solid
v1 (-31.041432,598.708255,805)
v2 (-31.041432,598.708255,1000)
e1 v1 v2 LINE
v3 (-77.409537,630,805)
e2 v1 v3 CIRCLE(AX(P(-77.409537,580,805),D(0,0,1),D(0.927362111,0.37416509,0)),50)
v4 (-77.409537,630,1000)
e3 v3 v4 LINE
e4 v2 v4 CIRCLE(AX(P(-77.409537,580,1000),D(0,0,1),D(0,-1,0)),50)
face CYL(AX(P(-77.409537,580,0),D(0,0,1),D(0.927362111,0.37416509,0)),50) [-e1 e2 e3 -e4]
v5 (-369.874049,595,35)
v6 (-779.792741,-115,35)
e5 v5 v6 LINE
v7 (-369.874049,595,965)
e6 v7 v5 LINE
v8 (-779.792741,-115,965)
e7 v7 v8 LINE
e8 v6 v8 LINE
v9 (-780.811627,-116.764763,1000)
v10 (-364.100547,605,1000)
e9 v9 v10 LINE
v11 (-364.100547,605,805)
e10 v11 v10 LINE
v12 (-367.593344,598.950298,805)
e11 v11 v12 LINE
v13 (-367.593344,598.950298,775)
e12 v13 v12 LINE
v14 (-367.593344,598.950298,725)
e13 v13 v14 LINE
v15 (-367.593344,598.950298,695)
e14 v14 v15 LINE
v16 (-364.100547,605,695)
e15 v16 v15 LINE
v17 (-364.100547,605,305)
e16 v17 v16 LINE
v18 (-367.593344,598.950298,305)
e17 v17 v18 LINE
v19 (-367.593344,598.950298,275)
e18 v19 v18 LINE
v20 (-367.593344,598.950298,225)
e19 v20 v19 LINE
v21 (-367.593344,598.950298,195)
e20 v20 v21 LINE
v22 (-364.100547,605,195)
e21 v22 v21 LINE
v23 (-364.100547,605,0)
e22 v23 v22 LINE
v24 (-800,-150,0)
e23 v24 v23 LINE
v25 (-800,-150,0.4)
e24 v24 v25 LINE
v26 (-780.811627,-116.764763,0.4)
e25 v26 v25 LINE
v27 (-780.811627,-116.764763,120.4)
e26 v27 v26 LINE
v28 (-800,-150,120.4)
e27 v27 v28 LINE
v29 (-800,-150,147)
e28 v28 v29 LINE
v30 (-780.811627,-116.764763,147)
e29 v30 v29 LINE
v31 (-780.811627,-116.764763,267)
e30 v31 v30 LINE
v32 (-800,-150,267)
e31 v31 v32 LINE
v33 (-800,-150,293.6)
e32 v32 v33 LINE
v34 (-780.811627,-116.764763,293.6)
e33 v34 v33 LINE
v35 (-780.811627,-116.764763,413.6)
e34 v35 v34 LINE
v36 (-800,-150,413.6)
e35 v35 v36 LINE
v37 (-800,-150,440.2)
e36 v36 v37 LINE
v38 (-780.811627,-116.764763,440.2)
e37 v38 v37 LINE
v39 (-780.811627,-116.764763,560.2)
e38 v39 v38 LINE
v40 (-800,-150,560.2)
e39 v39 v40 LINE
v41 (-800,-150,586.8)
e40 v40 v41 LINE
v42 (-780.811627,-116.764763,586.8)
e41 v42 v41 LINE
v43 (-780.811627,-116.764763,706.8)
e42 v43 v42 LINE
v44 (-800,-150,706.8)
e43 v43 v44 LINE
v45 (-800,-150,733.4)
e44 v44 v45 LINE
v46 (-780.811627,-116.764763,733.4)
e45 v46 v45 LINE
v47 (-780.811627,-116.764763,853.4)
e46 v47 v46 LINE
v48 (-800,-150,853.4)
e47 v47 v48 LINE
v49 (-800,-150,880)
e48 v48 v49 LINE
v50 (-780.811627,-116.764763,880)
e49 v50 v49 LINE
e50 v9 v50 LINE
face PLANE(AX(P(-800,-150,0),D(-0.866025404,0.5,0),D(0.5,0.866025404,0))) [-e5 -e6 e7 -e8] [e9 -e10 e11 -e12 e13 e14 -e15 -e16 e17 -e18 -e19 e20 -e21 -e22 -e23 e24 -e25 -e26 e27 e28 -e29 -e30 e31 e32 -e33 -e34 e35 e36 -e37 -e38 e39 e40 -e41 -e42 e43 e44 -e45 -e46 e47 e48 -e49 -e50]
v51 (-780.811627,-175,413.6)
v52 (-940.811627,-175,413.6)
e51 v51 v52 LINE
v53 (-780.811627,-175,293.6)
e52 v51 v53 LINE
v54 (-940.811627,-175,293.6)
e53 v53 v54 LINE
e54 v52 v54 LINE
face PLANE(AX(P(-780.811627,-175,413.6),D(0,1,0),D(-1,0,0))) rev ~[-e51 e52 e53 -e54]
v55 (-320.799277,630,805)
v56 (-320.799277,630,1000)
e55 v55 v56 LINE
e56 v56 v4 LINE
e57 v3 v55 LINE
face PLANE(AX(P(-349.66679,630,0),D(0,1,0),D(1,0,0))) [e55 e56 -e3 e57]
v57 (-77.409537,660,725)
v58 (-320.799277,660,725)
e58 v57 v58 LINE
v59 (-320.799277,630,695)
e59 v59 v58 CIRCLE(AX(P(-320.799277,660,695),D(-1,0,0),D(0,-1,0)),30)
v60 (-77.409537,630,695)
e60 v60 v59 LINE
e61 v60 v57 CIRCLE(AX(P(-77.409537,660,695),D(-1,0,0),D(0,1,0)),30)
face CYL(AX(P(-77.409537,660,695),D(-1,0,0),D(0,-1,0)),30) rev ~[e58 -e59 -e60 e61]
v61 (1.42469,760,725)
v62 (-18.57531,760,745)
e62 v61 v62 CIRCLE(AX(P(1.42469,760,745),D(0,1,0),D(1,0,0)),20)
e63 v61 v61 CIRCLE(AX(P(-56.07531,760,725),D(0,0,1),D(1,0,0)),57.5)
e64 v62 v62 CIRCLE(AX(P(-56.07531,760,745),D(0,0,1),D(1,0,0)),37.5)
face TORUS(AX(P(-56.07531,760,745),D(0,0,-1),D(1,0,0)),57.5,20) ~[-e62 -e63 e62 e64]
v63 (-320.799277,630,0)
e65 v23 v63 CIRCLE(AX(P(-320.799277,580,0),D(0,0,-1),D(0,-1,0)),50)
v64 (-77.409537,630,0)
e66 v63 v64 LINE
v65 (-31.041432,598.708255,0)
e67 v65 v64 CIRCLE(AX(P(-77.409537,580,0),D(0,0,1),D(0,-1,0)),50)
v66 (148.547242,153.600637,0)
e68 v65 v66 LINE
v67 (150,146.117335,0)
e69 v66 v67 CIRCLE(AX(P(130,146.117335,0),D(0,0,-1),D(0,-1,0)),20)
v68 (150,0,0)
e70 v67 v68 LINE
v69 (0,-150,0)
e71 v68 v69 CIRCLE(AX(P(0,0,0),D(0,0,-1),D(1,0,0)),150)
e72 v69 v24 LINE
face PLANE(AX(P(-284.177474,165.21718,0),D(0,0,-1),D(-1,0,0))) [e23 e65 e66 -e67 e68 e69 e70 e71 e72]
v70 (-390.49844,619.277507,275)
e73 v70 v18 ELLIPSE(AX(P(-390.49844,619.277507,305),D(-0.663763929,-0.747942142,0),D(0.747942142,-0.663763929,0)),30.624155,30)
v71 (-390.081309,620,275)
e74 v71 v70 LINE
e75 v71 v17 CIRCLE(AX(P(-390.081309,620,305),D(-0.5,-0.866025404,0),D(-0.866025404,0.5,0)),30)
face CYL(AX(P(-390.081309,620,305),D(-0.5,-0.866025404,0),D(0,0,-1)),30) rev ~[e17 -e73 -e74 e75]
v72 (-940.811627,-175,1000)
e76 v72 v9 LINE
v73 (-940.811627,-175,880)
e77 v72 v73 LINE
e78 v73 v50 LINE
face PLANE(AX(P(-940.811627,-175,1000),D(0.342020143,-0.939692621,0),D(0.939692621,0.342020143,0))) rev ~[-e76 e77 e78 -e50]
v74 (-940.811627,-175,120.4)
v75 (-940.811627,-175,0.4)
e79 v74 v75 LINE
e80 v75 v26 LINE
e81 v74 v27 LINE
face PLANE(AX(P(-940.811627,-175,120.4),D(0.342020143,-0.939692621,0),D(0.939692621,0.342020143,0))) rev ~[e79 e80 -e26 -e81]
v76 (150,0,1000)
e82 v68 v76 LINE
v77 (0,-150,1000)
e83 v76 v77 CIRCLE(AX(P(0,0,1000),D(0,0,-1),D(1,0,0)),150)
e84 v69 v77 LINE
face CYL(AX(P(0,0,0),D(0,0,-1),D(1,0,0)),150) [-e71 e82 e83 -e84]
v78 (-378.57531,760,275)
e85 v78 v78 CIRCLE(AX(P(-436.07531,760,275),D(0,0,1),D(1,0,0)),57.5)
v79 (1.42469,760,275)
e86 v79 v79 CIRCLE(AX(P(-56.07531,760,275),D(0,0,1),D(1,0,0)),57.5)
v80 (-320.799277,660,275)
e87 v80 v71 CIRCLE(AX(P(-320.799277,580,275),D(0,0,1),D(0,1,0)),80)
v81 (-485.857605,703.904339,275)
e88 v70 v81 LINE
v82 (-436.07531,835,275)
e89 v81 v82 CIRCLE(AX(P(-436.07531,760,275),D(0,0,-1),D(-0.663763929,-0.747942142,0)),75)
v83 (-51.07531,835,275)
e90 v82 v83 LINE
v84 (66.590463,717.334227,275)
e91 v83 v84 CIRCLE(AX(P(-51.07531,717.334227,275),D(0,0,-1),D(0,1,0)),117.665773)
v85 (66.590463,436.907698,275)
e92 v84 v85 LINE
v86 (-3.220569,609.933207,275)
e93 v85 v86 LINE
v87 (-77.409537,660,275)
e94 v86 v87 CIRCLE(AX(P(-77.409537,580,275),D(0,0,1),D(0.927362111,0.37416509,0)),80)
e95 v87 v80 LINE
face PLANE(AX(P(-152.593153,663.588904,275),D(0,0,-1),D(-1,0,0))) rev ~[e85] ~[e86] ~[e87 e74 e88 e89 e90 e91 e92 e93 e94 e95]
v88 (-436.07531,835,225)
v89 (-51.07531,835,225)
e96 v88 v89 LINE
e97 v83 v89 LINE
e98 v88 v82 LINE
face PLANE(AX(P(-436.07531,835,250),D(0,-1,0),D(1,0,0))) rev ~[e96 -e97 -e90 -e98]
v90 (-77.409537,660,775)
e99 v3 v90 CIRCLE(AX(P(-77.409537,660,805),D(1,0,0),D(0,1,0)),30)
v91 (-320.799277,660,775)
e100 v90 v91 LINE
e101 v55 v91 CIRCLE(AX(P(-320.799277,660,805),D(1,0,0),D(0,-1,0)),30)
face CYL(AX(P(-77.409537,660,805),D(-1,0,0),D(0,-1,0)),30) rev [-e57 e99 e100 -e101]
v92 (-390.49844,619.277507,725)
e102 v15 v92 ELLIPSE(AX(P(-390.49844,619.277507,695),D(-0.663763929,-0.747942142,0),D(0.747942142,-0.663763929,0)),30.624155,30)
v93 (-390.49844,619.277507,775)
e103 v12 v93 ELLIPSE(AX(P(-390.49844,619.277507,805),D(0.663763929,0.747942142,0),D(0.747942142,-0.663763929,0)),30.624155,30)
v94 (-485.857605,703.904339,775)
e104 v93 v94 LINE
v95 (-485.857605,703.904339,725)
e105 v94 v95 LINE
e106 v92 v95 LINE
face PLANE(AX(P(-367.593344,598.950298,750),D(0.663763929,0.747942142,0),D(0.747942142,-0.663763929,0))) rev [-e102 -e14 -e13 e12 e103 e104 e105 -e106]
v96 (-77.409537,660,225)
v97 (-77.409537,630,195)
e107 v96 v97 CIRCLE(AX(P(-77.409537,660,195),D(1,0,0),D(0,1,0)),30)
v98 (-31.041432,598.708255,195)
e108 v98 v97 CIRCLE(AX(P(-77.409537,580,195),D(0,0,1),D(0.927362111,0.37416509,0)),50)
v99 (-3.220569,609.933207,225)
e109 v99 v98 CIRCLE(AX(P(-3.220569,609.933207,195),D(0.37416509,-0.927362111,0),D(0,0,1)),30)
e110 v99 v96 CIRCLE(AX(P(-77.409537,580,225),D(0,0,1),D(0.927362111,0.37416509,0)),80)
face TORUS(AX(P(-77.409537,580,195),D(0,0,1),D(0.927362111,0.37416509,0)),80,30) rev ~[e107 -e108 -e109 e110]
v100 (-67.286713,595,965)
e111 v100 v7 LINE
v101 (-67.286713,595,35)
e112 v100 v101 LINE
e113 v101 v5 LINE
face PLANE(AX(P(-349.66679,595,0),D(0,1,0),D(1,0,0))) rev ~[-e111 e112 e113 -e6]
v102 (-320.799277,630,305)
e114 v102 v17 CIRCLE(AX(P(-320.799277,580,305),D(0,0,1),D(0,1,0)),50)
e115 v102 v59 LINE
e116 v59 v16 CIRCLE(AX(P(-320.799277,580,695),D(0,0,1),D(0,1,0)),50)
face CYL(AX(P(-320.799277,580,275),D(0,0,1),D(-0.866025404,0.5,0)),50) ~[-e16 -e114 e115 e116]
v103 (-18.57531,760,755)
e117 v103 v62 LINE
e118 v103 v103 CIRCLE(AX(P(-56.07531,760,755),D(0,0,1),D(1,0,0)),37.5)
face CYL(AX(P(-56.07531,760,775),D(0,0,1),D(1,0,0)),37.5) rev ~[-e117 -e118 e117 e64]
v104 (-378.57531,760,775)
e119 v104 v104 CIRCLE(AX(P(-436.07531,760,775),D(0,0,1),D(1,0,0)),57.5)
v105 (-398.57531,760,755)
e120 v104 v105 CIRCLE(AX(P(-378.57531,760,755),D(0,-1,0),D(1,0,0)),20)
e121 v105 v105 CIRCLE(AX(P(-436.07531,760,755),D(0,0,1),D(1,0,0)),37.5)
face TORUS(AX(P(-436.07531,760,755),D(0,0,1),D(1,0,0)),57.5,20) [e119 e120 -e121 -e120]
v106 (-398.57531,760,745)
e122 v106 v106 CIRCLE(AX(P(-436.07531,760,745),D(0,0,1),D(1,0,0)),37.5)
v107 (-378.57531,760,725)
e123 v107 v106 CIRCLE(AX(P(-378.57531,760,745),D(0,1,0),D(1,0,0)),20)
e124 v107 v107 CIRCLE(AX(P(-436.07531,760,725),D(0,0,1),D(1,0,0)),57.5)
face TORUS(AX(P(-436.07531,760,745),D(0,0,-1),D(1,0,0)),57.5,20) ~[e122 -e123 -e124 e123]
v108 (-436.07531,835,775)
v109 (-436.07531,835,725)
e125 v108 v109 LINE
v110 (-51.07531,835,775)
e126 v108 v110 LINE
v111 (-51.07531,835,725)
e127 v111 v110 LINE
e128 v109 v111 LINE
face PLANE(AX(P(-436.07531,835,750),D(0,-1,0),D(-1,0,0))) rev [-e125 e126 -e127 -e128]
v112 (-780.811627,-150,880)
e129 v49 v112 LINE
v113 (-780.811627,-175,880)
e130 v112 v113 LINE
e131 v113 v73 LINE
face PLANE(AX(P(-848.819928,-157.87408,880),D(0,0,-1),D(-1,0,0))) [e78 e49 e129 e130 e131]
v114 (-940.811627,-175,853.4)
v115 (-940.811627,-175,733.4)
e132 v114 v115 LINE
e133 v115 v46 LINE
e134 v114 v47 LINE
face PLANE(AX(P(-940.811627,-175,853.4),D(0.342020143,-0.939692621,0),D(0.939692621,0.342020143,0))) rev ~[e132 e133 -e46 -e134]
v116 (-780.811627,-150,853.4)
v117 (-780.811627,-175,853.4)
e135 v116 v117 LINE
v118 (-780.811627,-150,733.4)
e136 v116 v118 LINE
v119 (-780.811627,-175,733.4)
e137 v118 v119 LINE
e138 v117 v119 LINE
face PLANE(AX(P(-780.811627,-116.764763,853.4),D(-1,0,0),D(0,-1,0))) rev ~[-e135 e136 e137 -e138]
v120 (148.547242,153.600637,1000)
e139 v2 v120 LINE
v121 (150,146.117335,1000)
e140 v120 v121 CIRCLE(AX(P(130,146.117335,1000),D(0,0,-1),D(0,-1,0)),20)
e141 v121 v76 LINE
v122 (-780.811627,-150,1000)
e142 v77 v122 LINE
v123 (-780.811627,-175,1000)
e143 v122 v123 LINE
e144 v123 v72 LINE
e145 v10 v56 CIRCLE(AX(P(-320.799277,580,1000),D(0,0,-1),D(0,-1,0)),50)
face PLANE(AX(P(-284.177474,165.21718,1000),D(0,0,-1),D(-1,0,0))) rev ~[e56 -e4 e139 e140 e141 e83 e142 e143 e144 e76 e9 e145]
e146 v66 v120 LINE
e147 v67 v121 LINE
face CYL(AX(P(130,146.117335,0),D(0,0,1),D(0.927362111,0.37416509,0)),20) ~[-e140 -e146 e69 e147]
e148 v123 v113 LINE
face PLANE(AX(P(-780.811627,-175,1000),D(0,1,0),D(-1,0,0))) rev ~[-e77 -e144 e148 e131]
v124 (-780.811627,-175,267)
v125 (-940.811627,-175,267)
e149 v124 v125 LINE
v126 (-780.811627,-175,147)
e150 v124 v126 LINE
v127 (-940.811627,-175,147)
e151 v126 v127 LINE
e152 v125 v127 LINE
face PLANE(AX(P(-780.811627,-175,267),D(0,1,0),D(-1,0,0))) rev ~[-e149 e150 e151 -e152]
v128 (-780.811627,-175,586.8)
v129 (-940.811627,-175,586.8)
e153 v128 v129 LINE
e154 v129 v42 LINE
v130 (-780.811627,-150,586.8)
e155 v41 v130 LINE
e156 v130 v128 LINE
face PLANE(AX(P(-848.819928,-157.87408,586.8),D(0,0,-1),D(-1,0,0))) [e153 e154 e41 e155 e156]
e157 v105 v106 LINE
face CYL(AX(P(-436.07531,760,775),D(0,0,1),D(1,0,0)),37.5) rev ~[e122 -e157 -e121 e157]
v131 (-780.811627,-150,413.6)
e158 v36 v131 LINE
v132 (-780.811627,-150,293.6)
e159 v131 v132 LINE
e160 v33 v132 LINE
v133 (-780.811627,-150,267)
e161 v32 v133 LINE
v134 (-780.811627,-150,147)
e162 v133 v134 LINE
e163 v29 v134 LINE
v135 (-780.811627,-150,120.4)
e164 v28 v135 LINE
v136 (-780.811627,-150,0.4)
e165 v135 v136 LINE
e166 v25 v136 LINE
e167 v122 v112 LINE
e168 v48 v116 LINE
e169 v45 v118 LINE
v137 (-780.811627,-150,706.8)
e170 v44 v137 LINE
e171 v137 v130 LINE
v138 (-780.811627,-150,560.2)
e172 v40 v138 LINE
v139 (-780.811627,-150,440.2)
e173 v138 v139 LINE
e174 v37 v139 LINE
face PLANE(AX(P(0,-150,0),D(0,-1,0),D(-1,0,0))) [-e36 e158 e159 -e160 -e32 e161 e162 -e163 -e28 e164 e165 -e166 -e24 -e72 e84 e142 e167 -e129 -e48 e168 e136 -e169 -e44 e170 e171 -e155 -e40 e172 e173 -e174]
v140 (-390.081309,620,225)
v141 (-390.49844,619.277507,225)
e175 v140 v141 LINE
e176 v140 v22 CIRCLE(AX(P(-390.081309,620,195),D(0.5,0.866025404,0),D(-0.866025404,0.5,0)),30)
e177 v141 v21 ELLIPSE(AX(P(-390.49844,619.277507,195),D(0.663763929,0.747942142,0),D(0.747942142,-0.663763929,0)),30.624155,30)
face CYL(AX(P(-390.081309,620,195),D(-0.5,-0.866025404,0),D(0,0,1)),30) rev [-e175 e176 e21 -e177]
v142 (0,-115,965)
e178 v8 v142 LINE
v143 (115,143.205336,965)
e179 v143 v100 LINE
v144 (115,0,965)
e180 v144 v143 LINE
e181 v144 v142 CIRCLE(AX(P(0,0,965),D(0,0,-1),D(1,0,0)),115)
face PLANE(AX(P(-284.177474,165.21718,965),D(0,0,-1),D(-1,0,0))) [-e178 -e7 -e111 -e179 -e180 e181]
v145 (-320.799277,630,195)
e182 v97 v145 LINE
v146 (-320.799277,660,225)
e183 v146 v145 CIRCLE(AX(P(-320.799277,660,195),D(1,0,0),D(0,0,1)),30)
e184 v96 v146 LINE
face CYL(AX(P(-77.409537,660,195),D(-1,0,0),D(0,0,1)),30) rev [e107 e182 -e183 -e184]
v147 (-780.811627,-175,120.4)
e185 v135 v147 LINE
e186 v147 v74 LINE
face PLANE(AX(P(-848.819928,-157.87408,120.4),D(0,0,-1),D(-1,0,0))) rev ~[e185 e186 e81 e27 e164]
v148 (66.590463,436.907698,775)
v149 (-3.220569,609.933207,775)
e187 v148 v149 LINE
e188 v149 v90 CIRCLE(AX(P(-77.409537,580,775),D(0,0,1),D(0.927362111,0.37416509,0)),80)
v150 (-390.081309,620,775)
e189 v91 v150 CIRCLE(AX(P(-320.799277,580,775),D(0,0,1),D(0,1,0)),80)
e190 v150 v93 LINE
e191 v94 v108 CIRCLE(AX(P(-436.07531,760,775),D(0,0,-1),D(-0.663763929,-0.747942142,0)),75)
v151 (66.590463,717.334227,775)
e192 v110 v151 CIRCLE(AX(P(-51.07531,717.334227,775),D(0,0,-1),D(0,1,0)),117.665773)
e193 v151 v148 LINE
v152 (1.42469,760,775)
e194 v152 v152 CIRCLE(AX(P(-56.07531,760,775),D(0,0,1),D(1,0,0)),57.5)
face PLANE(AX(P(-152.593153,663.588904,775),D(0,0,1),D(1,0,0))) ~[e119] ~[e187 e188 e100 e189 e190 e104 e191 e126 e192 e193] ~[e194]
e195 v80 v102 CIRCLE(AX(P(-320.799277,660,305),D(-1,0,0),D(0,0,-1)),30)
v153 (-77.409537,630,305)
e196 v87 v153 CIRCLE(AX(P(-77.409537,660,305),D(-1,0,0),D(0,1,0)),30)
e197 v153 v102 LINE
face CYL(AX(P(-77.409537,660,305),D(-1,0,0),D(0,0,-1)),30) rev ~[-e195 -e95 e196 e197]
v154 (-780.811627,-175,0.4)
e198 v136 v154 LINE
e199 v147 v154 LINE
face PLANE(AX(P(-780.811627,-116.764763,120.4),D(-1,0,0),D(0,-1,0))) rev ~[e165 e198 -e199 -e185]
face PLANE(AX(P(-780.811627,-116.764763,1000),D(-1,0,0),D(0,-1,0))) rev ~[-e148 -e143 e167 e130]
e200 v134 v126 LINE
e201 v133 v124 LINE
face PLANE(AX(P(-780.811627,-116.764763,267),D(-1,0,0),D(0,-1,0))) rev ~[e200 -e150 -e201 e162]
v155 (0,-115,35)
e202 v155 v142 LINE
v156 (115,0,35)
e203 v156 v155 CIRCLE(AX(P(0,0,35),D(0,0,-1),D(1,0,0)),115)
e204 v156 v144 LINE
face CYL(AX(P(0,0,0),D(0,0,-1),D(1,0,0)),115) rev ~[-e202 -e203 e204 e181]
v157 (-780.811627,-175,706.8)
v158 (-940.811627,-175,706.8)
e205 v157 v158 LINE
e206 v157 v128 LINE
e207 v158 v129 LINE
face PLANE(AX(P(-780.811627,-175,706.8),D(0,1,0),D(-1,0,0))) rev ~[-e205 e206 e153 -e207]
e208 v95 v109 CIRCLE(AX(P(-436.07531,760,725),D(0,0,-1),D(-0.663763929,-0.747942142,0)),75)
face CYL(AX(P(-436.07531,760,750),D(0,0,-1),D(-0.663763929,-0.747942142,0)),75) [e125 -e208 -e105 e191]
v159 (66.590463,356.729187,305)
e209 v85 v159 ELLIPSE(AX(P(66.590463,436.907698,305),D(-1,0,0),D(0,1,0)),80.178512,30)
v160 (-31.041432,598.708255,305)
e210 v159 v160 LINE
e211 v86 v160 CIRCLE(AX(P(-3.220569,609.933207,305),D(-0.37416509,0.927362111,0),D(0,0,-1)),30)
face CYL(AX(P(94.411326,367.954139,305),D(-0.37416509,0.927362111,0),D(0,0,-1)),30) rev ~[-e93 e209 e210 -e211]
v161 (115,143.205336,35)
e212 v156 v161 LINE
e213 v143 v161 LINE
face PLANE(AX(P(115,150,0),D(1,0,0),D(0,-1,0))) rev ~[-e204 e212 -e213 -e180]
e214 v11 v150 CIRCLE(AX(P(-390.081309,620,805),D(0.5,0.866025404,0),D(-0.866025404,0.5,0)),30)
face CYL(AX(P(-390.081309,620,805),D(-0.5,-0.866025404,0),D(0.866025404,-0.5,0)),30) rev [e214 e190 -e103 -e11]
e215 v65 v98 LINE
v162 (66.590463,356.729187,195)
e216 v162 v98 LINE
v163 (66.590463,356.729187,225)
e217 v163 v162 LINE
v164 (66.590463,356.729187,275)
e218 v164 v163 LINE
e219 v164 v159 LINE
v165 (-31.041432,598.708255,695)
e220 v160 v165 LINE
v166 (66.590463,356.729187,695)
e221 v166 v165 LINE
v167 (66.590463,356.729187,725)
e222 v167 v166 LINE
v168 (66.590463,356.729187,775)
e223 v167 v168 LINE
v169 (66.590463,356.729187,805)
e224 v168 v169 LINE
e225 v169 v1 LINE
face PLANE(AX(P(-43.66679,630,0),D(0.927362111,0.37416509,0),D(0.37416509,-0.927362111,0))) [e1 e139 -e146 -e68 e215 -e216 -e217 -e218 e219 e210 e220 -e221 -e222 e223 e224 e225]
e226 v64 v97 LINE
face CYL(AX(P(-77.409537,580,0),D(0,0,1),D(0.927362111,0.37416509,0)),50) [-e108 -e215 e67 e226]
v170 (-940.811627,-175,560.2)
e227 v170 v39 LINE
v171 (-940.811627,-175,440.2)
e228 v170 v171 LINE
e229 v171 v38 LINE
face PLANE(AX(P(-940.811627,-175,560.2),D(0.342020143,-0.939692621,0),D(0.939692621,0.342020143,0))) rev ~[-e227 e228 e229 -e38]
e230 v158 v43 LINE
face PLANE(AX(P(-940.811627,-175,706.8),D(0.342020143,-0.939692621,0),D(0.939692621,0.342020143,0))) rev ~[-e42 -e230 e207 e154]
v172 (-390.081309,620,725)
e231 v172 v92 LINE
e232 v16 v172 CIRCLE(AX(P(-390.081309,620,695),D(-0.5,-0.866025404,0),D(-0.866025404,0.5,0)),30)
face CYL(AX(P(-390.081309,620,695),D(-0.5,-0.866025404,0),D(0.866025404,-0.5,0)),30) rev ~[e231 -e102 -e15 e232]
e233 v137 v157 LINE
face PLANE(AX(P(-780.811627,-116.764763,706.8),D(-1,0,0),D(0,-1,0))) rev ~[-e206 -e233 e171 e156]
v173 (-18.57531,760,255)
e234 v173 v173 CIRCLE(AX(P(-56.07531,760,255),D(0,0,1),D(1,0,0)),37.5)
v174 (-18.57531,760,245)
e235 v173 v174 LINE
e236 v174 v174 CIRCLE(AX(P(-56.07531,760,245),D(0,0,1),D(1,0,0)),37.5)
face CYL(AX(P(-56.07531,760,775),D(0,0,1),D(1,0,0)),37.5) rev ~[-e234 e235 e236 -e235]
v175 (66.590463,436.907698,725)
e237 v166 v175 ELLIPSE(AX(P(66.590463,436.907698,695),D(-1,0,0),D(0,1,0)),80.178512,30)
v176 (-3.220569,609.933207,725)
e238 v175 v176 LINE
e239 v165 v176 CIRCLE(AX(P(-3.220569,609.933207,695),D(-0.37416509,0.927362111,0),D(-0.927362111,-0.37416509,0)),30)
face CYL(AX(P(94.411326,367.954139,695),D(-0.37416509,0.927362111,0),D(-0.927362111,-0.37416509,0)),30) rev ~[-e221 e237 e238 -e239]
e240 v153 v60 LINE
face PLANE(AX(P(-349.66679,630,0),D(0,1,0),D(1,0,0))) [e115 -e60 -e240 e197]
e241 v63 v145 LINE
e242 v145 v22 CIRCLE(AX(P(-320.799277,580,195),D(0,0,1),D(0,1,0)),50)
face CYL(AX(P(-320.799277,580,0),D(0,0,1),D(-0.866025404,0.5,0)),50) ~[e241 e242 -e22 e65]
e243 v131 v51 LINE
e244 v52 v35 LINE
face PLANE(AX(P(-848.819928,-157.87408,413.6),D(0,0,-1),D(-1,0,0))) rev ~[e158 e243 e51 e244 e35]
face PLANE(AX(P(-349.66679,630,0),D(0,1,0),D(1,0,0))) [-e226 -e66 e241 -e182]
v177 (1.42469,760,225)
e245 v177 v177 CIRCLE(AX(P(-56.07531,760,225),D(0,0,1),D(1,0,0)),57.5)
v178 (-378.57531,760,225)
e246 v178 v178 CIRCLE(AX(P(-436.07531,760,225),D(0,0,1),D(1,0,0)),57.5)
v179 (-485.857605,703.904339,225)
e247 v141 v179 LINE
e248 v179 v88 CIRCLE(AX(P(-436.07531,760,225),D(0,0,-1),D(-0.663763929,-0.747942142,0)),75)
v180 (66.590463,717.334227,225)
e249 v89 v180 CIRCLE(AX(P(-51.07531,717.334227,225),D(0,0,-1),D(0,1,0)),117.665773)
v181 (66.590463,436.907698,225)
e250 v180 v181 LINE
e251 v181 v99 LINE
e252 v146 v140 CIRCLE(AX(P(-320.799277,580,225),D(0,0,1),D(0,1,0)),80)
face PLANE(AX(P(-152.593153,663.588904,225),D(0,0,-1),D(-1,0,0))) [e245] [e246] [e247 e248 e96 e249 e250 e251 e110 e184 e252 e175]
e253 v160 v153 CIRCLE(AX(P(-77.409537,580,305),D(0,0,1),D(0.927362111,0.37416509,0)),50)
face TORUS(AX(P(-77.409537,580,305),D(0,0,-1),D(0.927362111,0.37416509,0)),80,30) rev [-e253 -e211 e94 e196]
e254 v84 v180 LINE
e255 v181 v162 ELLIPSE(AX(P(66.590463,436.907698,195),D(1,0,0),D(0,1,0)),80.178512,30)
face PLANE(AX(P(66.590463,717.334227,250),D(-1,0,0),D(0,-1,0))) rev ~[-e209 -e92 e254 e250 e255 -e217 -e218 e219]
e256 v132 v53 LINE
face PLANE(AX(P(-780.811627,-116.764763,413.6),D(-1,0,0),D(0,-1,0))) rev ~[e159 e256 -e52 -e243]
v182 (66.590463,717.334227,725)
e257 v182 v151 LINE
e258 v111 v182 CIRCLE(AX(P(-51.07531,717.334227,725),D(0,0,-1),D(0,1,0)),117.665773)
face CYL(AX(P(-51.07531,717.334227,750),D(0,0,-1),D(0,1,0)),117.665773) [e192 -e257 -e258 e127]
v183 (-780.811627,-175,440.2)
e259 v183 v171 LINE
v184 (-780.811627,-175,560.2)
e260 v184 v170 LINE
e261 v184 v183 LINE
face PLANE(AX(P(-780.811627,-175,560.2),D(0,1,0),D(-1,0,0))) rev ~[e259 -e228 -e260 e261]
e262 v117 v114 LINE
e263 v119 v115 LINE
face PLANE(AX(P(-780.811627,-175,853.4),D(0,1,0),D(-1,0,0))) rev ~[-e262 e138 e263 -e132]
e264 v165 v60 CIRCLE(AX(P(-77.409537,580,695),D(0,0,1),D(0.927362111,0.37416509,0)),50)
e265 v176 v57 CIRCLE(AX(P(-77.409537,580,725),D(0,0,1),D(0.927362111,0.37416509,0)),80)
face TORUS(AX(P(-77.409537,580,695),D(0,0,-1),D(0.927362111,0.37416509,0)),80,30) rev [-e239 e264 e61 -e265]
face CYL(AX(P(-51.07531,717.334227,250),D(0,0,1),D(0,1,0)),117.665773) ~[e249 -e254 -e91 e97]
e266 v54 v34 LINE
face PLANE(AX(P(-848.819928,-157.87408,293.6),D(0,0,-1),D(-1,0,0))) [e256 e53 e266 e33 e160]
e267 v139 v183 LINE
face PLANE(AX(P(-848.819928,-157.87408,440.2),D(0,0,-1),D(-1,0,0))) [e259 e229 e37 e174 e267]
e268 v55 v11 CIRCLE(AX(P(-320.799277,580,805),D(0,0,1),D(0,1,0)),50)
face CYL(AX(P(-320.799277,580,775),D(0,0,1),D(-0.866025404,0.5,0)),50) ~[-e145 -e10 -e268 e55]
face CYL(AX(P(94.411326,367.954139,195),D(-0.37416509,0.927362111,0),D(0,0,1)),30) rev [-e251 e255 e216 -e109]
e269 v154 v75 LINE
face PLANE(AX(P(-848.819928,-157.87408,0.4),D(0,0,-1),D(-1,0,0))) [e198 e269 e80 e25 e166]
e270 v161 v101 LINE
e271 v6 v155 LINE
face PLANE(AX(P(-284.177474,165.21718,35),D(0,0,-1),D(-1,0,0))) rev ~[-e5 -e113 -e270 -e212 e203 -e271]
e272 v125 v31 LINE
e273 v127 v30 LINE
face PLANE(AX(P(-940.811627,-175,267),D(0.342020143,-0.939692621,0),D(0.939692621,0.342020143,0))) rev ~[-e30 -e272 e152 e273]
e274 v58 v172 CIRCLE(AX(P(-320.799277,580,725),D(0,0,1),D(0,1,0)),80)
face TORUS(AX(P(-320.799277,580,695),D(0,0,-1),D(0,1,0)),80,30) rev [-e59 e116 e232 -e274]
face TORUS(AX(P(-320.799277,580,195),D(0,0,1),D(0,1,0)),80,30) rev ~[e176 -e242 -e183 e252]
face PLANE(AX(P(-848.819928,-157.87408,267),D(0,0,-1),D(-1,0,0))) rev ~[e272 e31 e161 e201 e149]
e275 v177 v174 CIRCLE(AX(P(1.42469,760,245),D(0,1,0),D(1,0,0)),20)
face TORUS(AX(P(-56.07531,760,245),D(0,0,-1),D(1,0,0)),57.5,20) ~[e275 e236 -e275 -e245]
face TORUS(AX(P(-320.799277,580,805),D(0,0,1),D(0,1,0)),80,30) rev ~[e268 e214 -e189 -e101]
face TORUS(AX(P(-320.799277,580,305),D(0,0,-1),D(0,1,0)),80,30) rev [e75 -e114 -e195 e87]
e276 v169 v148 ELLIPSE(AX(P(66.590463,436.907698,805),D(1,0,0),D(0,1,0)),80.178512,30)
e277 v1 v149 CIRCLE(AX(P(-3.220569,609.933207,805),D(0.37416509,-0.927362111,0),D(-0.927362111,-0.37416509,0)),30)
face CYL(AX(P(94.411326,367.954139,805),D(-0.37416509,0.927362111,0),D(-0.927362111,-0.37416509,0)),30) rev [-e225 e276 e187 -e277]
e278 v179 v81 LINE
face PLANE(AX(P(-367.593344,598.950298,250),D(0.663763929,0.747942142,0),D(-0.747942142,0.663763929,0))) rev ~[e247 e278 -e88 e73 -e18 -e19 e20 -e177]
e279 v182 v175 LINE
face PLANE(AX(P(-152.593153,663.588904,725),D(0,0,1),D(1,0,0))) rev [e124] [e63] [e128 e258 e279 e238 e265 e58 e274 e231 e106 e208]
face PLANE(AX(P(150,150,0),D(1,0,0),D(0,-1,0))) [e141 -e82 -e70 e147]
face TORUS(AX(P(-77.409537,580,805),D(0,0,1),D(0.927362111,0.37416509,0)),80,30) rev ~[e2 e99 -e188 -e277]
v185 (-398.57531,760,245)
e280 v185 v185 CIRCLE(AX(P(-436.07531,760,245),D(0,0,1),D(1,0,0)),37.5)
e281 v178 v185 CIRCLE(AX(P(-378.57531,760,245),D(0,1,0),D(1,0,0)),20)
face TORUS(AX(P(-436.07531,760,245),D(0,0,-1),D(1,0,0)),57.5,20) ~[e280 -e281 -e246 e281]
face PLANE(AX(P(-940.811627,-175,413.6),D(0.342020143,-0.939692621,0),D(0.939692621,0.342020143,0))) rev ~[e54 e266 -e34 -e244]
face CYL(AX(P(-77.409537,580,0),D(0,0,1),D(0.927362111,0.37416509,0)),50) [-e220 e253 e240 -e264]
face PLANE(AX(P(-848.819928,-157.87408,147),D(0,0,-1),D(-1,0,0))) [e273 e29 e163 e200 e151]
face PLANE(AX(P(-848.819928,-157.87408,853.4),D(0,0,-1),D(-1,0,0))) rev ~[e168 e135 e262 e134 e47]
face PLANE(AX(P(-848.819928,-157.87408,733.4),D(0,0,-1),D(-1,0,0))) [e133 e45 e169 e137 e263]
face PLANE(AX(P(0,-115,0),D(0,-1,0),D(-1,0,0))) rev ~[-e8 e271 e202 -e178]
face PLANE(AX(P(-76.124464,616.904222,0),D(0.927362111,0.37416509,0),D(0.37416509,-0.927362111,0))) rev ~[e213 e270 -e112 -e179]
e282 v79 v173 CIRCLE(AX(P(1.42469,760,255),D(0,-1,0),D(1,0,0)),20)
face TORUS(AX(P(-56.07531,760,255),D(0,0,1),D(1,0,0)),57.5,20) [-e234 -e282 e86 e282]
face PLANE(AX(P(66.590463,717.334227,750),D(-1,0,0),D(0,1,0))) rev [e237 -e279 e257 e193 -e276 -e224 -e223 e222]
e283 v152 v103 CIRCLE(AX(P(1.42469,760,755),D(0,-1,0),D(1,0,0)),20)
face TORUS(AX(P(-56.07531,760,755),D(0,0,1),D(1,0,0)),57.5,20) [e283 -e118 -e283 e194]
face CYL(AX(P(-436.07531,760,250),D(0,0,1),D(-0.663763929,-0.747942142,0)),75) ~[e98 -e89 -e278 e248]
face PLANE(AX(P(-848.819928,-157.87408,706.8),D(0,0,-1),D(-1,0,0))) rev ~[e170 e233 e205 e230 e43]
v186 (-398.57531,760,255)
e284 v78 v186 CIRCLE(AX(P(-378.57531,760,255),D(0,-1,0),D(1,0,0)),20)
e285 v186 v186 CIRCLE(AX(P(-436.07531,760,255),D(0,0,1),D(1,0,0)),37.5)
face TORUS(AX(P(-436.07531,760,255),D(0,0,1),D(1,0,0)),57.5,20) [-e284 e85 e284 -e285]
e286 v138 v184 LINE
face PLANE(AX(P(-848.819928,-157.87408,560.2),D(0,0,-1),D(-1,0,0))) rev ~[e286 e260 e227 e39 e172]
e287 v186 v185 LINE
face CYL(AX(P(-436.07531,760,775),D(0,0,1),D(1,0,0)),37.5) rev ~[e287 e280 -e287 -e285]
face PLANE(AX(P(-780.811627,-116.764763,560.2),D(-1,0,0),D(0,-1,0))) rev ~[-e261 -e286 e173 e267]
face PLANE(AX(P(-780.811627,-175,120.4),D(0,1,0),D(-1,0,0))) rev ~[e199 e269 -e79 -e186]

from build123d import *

# Parameters (mm, degrees)
BOSS_EXTRUDE1_DEPTH = 1000
SHELL1_T            = -35
FILLET1_R           = 20
FILLET2_R           = 50
BOSS_EXTRUDE2_DEPTH = 120
LPATTERN1_COUNT     = 7
LPATTERN1_PITCH     = 146.6
BOSS_EXTRUDE3_DEPTH = 25
SKETCH4_R           = 37.5
CUT_EXTRUDE1_DEPTH  = 1478.48993801
FILLET3_R           = 50
FILLET4_R           = 20
FILLET5_R           = 30


with BuildPart() as part:
    # Sketch1 → Boss-Extrude1 (new body)
    with BuildSketch(Plane.XY):
        with BuildLine():
            Line((0, -150), (-800, -150))
            Line((-800, -150), (-349.666790032, 630))
            Line((-349.666790032, 630), (-43.666790032, 630))
            Line((-43.666790032, 630), (150, 150))
            Line((150, 150), (150, 0))
            ThreePointArc((150, 0), (106.066017178, -106.066017178), (0, -150))
        make_face()
    extrude(amount=BOSS_EXTRUDE1_DEPTH)

    # Shell1
    shell1_openings = [part.faces().sort_by_distance(p)[0] for p in [
        (-574.833395016, 240, 500),
    ]]
    offset(amount=SHELL1_T, openings=shell1_openings, kind=Kind.INTERSECTION)

    # Fillet1
    fillet1_edges = [part.edges().sort_by_distance(p)[0] for p in [
        (150, 150, 500),
    ]]
    fillet(fillet1_edges, radius=FILLET1_R)

    # Fillet2
    fillet2_edges = [part.edges().sort_by_distance(p)[0] for p in [
        (-43.666790032, 630, 500),
    ]]
    fillet(fillet2_edges, radius=FILLET2_R)

    # Sketch2 → Boss-Extrude2 (add)
    with BuildSketch(Plane.XY.offset(1000)):
        Polygon((-780.811626693, -116.764762517), (-780.811626693, -175), (-940.811626693, -175), align=None)
    boss_extrude2 = extrude(amount=-BOSS_EXTRUDE2_DEPTH)

    # LPattern1: Boss-Extrude2 ×7
    with Locations(*[(0, 0, -i * LPATTERN1_PITCH) for i in range(1, LPATTERN1_COUNT)]):
        add(boss_extrude2)

    # Sketch3 → Boss-Extrude3 (add, symmetric)
    with BuildSketch(Plane.XY.offset(250)):
        with BuildLine():
            Line((-436.075310487, 835), (-51.075310487, 835))
            ThreePointArc((-51.075310487, 835), (32.126955534, 800.536492994), (66.590462541, 717.334226972))
            Line((66.590462541, 717.334226972), (66.590462541, 356.729186629))
            Line((66.590462541, 356.729186629), (-31.041431899, 598.708254508))
            ThreePointArc((-31.041431899, 598.708254508), (-49.44002482, 621.445221229), (-77.409537459, 630))
            Line((-77.409537459, 630), (-349.666790032, 630))
            Line((-349.666790032, 630), (-367.593343938, 598.95029783))
            Line((-367.593343938, 598.95029783), (-485.857605126, 703.904339378))
            ThreePointArc((-485.857605126, 703.904339378), (-506.190125422, 786.625415052), (-436.075310487, 835))
        make_face()
    boss_extrude3 = extrude(amount=BOSS_EXTRUDE3_DEPTH, both=True)

    # Mirror1: Boss-Extrude3 across plane
    add(boss_extrude3.mirror(Plane.XY.offset(500)))

    # Sketch4 → Cut-Extrude1 (cut, through all)
    with BuildSketch(Plane.XY.offset(775)):
        with Locations((-436.075310487, 760)):
            Circle(SKETCH4_R)
        with Locations((-56.075310487, 760)):
            Circle(SKETCH4_R)
    extrude(amount=-CUT_EXTRUDE1_DEPTH, mode=Mode.SUBTRACT)

    # Fillet3
    fillet3_edges = [part.edges().sort_by_distance(p)[0] for p in [
        (-349.666790032, 630, 887.5),
        (-349.666790032, 630, 112.5),
        (-349.666790032, 630, 500),
    ]]
    fillet(fillet3_edges, radius=FILLET3_R)

    # Fillet4
    fillet4_edges = [part.edges().sort_by_distance(p)[0] for p in [
        (-473.575310487, 760, 725),
        (-473.575310487, 760, 275),
        (-473.575310487, 760, 225),
        (-473.575310487, 760, 775),
        (-93.575310487, 760, 725),
        (-93.575310487, 760, 275),
        (-93.575310487, 760, 225),
        (-93.575310487, 760, 775),
    ]]
    fillet(fillet4_edges, radius=FILLET4_R)

    # Fillet5
    fillet5_edges = [part.edges().sort_by_distance(p)[0] for p in [
        (-199.104407016, 630, 275),
        (-49.44002482, 621.445221229, 275),
        (17.774515321, 477.718720569, 275),
        (17.774515321, 477.718720569, 225),
        (-49.44002482, 621.445221229, 225),
        (-199.104407016, 630, 225),
        (17.774515321, 477.718720569, 775),
        (-49.44002482, 621.445221229, 775),
        (-199.104407016, 630, 775),
        (17.774515321, 477.718720569, 725),
        (-49.44002482, 621.445221229, 725),
        (-199.104407016, 630, 725),
        (-365.84694535, 601.975148915, 725),
        (-365.84694535, 601.975148915, 275),
        (-365.84694535, 601.975148915, 225),
        (-365.84694535, 601.975148915, 775),
        (-345.799276573, 623.301270189, 225),
        (-345.799276573, 623.301270189, 775),
        (-345.799276573, 623.301270189, 275),
        (-345.799276573, 623.301270189, 725),
    ]]
    fillet(fillet5_edges, radius=FILLET5_R)


solid = part.part
